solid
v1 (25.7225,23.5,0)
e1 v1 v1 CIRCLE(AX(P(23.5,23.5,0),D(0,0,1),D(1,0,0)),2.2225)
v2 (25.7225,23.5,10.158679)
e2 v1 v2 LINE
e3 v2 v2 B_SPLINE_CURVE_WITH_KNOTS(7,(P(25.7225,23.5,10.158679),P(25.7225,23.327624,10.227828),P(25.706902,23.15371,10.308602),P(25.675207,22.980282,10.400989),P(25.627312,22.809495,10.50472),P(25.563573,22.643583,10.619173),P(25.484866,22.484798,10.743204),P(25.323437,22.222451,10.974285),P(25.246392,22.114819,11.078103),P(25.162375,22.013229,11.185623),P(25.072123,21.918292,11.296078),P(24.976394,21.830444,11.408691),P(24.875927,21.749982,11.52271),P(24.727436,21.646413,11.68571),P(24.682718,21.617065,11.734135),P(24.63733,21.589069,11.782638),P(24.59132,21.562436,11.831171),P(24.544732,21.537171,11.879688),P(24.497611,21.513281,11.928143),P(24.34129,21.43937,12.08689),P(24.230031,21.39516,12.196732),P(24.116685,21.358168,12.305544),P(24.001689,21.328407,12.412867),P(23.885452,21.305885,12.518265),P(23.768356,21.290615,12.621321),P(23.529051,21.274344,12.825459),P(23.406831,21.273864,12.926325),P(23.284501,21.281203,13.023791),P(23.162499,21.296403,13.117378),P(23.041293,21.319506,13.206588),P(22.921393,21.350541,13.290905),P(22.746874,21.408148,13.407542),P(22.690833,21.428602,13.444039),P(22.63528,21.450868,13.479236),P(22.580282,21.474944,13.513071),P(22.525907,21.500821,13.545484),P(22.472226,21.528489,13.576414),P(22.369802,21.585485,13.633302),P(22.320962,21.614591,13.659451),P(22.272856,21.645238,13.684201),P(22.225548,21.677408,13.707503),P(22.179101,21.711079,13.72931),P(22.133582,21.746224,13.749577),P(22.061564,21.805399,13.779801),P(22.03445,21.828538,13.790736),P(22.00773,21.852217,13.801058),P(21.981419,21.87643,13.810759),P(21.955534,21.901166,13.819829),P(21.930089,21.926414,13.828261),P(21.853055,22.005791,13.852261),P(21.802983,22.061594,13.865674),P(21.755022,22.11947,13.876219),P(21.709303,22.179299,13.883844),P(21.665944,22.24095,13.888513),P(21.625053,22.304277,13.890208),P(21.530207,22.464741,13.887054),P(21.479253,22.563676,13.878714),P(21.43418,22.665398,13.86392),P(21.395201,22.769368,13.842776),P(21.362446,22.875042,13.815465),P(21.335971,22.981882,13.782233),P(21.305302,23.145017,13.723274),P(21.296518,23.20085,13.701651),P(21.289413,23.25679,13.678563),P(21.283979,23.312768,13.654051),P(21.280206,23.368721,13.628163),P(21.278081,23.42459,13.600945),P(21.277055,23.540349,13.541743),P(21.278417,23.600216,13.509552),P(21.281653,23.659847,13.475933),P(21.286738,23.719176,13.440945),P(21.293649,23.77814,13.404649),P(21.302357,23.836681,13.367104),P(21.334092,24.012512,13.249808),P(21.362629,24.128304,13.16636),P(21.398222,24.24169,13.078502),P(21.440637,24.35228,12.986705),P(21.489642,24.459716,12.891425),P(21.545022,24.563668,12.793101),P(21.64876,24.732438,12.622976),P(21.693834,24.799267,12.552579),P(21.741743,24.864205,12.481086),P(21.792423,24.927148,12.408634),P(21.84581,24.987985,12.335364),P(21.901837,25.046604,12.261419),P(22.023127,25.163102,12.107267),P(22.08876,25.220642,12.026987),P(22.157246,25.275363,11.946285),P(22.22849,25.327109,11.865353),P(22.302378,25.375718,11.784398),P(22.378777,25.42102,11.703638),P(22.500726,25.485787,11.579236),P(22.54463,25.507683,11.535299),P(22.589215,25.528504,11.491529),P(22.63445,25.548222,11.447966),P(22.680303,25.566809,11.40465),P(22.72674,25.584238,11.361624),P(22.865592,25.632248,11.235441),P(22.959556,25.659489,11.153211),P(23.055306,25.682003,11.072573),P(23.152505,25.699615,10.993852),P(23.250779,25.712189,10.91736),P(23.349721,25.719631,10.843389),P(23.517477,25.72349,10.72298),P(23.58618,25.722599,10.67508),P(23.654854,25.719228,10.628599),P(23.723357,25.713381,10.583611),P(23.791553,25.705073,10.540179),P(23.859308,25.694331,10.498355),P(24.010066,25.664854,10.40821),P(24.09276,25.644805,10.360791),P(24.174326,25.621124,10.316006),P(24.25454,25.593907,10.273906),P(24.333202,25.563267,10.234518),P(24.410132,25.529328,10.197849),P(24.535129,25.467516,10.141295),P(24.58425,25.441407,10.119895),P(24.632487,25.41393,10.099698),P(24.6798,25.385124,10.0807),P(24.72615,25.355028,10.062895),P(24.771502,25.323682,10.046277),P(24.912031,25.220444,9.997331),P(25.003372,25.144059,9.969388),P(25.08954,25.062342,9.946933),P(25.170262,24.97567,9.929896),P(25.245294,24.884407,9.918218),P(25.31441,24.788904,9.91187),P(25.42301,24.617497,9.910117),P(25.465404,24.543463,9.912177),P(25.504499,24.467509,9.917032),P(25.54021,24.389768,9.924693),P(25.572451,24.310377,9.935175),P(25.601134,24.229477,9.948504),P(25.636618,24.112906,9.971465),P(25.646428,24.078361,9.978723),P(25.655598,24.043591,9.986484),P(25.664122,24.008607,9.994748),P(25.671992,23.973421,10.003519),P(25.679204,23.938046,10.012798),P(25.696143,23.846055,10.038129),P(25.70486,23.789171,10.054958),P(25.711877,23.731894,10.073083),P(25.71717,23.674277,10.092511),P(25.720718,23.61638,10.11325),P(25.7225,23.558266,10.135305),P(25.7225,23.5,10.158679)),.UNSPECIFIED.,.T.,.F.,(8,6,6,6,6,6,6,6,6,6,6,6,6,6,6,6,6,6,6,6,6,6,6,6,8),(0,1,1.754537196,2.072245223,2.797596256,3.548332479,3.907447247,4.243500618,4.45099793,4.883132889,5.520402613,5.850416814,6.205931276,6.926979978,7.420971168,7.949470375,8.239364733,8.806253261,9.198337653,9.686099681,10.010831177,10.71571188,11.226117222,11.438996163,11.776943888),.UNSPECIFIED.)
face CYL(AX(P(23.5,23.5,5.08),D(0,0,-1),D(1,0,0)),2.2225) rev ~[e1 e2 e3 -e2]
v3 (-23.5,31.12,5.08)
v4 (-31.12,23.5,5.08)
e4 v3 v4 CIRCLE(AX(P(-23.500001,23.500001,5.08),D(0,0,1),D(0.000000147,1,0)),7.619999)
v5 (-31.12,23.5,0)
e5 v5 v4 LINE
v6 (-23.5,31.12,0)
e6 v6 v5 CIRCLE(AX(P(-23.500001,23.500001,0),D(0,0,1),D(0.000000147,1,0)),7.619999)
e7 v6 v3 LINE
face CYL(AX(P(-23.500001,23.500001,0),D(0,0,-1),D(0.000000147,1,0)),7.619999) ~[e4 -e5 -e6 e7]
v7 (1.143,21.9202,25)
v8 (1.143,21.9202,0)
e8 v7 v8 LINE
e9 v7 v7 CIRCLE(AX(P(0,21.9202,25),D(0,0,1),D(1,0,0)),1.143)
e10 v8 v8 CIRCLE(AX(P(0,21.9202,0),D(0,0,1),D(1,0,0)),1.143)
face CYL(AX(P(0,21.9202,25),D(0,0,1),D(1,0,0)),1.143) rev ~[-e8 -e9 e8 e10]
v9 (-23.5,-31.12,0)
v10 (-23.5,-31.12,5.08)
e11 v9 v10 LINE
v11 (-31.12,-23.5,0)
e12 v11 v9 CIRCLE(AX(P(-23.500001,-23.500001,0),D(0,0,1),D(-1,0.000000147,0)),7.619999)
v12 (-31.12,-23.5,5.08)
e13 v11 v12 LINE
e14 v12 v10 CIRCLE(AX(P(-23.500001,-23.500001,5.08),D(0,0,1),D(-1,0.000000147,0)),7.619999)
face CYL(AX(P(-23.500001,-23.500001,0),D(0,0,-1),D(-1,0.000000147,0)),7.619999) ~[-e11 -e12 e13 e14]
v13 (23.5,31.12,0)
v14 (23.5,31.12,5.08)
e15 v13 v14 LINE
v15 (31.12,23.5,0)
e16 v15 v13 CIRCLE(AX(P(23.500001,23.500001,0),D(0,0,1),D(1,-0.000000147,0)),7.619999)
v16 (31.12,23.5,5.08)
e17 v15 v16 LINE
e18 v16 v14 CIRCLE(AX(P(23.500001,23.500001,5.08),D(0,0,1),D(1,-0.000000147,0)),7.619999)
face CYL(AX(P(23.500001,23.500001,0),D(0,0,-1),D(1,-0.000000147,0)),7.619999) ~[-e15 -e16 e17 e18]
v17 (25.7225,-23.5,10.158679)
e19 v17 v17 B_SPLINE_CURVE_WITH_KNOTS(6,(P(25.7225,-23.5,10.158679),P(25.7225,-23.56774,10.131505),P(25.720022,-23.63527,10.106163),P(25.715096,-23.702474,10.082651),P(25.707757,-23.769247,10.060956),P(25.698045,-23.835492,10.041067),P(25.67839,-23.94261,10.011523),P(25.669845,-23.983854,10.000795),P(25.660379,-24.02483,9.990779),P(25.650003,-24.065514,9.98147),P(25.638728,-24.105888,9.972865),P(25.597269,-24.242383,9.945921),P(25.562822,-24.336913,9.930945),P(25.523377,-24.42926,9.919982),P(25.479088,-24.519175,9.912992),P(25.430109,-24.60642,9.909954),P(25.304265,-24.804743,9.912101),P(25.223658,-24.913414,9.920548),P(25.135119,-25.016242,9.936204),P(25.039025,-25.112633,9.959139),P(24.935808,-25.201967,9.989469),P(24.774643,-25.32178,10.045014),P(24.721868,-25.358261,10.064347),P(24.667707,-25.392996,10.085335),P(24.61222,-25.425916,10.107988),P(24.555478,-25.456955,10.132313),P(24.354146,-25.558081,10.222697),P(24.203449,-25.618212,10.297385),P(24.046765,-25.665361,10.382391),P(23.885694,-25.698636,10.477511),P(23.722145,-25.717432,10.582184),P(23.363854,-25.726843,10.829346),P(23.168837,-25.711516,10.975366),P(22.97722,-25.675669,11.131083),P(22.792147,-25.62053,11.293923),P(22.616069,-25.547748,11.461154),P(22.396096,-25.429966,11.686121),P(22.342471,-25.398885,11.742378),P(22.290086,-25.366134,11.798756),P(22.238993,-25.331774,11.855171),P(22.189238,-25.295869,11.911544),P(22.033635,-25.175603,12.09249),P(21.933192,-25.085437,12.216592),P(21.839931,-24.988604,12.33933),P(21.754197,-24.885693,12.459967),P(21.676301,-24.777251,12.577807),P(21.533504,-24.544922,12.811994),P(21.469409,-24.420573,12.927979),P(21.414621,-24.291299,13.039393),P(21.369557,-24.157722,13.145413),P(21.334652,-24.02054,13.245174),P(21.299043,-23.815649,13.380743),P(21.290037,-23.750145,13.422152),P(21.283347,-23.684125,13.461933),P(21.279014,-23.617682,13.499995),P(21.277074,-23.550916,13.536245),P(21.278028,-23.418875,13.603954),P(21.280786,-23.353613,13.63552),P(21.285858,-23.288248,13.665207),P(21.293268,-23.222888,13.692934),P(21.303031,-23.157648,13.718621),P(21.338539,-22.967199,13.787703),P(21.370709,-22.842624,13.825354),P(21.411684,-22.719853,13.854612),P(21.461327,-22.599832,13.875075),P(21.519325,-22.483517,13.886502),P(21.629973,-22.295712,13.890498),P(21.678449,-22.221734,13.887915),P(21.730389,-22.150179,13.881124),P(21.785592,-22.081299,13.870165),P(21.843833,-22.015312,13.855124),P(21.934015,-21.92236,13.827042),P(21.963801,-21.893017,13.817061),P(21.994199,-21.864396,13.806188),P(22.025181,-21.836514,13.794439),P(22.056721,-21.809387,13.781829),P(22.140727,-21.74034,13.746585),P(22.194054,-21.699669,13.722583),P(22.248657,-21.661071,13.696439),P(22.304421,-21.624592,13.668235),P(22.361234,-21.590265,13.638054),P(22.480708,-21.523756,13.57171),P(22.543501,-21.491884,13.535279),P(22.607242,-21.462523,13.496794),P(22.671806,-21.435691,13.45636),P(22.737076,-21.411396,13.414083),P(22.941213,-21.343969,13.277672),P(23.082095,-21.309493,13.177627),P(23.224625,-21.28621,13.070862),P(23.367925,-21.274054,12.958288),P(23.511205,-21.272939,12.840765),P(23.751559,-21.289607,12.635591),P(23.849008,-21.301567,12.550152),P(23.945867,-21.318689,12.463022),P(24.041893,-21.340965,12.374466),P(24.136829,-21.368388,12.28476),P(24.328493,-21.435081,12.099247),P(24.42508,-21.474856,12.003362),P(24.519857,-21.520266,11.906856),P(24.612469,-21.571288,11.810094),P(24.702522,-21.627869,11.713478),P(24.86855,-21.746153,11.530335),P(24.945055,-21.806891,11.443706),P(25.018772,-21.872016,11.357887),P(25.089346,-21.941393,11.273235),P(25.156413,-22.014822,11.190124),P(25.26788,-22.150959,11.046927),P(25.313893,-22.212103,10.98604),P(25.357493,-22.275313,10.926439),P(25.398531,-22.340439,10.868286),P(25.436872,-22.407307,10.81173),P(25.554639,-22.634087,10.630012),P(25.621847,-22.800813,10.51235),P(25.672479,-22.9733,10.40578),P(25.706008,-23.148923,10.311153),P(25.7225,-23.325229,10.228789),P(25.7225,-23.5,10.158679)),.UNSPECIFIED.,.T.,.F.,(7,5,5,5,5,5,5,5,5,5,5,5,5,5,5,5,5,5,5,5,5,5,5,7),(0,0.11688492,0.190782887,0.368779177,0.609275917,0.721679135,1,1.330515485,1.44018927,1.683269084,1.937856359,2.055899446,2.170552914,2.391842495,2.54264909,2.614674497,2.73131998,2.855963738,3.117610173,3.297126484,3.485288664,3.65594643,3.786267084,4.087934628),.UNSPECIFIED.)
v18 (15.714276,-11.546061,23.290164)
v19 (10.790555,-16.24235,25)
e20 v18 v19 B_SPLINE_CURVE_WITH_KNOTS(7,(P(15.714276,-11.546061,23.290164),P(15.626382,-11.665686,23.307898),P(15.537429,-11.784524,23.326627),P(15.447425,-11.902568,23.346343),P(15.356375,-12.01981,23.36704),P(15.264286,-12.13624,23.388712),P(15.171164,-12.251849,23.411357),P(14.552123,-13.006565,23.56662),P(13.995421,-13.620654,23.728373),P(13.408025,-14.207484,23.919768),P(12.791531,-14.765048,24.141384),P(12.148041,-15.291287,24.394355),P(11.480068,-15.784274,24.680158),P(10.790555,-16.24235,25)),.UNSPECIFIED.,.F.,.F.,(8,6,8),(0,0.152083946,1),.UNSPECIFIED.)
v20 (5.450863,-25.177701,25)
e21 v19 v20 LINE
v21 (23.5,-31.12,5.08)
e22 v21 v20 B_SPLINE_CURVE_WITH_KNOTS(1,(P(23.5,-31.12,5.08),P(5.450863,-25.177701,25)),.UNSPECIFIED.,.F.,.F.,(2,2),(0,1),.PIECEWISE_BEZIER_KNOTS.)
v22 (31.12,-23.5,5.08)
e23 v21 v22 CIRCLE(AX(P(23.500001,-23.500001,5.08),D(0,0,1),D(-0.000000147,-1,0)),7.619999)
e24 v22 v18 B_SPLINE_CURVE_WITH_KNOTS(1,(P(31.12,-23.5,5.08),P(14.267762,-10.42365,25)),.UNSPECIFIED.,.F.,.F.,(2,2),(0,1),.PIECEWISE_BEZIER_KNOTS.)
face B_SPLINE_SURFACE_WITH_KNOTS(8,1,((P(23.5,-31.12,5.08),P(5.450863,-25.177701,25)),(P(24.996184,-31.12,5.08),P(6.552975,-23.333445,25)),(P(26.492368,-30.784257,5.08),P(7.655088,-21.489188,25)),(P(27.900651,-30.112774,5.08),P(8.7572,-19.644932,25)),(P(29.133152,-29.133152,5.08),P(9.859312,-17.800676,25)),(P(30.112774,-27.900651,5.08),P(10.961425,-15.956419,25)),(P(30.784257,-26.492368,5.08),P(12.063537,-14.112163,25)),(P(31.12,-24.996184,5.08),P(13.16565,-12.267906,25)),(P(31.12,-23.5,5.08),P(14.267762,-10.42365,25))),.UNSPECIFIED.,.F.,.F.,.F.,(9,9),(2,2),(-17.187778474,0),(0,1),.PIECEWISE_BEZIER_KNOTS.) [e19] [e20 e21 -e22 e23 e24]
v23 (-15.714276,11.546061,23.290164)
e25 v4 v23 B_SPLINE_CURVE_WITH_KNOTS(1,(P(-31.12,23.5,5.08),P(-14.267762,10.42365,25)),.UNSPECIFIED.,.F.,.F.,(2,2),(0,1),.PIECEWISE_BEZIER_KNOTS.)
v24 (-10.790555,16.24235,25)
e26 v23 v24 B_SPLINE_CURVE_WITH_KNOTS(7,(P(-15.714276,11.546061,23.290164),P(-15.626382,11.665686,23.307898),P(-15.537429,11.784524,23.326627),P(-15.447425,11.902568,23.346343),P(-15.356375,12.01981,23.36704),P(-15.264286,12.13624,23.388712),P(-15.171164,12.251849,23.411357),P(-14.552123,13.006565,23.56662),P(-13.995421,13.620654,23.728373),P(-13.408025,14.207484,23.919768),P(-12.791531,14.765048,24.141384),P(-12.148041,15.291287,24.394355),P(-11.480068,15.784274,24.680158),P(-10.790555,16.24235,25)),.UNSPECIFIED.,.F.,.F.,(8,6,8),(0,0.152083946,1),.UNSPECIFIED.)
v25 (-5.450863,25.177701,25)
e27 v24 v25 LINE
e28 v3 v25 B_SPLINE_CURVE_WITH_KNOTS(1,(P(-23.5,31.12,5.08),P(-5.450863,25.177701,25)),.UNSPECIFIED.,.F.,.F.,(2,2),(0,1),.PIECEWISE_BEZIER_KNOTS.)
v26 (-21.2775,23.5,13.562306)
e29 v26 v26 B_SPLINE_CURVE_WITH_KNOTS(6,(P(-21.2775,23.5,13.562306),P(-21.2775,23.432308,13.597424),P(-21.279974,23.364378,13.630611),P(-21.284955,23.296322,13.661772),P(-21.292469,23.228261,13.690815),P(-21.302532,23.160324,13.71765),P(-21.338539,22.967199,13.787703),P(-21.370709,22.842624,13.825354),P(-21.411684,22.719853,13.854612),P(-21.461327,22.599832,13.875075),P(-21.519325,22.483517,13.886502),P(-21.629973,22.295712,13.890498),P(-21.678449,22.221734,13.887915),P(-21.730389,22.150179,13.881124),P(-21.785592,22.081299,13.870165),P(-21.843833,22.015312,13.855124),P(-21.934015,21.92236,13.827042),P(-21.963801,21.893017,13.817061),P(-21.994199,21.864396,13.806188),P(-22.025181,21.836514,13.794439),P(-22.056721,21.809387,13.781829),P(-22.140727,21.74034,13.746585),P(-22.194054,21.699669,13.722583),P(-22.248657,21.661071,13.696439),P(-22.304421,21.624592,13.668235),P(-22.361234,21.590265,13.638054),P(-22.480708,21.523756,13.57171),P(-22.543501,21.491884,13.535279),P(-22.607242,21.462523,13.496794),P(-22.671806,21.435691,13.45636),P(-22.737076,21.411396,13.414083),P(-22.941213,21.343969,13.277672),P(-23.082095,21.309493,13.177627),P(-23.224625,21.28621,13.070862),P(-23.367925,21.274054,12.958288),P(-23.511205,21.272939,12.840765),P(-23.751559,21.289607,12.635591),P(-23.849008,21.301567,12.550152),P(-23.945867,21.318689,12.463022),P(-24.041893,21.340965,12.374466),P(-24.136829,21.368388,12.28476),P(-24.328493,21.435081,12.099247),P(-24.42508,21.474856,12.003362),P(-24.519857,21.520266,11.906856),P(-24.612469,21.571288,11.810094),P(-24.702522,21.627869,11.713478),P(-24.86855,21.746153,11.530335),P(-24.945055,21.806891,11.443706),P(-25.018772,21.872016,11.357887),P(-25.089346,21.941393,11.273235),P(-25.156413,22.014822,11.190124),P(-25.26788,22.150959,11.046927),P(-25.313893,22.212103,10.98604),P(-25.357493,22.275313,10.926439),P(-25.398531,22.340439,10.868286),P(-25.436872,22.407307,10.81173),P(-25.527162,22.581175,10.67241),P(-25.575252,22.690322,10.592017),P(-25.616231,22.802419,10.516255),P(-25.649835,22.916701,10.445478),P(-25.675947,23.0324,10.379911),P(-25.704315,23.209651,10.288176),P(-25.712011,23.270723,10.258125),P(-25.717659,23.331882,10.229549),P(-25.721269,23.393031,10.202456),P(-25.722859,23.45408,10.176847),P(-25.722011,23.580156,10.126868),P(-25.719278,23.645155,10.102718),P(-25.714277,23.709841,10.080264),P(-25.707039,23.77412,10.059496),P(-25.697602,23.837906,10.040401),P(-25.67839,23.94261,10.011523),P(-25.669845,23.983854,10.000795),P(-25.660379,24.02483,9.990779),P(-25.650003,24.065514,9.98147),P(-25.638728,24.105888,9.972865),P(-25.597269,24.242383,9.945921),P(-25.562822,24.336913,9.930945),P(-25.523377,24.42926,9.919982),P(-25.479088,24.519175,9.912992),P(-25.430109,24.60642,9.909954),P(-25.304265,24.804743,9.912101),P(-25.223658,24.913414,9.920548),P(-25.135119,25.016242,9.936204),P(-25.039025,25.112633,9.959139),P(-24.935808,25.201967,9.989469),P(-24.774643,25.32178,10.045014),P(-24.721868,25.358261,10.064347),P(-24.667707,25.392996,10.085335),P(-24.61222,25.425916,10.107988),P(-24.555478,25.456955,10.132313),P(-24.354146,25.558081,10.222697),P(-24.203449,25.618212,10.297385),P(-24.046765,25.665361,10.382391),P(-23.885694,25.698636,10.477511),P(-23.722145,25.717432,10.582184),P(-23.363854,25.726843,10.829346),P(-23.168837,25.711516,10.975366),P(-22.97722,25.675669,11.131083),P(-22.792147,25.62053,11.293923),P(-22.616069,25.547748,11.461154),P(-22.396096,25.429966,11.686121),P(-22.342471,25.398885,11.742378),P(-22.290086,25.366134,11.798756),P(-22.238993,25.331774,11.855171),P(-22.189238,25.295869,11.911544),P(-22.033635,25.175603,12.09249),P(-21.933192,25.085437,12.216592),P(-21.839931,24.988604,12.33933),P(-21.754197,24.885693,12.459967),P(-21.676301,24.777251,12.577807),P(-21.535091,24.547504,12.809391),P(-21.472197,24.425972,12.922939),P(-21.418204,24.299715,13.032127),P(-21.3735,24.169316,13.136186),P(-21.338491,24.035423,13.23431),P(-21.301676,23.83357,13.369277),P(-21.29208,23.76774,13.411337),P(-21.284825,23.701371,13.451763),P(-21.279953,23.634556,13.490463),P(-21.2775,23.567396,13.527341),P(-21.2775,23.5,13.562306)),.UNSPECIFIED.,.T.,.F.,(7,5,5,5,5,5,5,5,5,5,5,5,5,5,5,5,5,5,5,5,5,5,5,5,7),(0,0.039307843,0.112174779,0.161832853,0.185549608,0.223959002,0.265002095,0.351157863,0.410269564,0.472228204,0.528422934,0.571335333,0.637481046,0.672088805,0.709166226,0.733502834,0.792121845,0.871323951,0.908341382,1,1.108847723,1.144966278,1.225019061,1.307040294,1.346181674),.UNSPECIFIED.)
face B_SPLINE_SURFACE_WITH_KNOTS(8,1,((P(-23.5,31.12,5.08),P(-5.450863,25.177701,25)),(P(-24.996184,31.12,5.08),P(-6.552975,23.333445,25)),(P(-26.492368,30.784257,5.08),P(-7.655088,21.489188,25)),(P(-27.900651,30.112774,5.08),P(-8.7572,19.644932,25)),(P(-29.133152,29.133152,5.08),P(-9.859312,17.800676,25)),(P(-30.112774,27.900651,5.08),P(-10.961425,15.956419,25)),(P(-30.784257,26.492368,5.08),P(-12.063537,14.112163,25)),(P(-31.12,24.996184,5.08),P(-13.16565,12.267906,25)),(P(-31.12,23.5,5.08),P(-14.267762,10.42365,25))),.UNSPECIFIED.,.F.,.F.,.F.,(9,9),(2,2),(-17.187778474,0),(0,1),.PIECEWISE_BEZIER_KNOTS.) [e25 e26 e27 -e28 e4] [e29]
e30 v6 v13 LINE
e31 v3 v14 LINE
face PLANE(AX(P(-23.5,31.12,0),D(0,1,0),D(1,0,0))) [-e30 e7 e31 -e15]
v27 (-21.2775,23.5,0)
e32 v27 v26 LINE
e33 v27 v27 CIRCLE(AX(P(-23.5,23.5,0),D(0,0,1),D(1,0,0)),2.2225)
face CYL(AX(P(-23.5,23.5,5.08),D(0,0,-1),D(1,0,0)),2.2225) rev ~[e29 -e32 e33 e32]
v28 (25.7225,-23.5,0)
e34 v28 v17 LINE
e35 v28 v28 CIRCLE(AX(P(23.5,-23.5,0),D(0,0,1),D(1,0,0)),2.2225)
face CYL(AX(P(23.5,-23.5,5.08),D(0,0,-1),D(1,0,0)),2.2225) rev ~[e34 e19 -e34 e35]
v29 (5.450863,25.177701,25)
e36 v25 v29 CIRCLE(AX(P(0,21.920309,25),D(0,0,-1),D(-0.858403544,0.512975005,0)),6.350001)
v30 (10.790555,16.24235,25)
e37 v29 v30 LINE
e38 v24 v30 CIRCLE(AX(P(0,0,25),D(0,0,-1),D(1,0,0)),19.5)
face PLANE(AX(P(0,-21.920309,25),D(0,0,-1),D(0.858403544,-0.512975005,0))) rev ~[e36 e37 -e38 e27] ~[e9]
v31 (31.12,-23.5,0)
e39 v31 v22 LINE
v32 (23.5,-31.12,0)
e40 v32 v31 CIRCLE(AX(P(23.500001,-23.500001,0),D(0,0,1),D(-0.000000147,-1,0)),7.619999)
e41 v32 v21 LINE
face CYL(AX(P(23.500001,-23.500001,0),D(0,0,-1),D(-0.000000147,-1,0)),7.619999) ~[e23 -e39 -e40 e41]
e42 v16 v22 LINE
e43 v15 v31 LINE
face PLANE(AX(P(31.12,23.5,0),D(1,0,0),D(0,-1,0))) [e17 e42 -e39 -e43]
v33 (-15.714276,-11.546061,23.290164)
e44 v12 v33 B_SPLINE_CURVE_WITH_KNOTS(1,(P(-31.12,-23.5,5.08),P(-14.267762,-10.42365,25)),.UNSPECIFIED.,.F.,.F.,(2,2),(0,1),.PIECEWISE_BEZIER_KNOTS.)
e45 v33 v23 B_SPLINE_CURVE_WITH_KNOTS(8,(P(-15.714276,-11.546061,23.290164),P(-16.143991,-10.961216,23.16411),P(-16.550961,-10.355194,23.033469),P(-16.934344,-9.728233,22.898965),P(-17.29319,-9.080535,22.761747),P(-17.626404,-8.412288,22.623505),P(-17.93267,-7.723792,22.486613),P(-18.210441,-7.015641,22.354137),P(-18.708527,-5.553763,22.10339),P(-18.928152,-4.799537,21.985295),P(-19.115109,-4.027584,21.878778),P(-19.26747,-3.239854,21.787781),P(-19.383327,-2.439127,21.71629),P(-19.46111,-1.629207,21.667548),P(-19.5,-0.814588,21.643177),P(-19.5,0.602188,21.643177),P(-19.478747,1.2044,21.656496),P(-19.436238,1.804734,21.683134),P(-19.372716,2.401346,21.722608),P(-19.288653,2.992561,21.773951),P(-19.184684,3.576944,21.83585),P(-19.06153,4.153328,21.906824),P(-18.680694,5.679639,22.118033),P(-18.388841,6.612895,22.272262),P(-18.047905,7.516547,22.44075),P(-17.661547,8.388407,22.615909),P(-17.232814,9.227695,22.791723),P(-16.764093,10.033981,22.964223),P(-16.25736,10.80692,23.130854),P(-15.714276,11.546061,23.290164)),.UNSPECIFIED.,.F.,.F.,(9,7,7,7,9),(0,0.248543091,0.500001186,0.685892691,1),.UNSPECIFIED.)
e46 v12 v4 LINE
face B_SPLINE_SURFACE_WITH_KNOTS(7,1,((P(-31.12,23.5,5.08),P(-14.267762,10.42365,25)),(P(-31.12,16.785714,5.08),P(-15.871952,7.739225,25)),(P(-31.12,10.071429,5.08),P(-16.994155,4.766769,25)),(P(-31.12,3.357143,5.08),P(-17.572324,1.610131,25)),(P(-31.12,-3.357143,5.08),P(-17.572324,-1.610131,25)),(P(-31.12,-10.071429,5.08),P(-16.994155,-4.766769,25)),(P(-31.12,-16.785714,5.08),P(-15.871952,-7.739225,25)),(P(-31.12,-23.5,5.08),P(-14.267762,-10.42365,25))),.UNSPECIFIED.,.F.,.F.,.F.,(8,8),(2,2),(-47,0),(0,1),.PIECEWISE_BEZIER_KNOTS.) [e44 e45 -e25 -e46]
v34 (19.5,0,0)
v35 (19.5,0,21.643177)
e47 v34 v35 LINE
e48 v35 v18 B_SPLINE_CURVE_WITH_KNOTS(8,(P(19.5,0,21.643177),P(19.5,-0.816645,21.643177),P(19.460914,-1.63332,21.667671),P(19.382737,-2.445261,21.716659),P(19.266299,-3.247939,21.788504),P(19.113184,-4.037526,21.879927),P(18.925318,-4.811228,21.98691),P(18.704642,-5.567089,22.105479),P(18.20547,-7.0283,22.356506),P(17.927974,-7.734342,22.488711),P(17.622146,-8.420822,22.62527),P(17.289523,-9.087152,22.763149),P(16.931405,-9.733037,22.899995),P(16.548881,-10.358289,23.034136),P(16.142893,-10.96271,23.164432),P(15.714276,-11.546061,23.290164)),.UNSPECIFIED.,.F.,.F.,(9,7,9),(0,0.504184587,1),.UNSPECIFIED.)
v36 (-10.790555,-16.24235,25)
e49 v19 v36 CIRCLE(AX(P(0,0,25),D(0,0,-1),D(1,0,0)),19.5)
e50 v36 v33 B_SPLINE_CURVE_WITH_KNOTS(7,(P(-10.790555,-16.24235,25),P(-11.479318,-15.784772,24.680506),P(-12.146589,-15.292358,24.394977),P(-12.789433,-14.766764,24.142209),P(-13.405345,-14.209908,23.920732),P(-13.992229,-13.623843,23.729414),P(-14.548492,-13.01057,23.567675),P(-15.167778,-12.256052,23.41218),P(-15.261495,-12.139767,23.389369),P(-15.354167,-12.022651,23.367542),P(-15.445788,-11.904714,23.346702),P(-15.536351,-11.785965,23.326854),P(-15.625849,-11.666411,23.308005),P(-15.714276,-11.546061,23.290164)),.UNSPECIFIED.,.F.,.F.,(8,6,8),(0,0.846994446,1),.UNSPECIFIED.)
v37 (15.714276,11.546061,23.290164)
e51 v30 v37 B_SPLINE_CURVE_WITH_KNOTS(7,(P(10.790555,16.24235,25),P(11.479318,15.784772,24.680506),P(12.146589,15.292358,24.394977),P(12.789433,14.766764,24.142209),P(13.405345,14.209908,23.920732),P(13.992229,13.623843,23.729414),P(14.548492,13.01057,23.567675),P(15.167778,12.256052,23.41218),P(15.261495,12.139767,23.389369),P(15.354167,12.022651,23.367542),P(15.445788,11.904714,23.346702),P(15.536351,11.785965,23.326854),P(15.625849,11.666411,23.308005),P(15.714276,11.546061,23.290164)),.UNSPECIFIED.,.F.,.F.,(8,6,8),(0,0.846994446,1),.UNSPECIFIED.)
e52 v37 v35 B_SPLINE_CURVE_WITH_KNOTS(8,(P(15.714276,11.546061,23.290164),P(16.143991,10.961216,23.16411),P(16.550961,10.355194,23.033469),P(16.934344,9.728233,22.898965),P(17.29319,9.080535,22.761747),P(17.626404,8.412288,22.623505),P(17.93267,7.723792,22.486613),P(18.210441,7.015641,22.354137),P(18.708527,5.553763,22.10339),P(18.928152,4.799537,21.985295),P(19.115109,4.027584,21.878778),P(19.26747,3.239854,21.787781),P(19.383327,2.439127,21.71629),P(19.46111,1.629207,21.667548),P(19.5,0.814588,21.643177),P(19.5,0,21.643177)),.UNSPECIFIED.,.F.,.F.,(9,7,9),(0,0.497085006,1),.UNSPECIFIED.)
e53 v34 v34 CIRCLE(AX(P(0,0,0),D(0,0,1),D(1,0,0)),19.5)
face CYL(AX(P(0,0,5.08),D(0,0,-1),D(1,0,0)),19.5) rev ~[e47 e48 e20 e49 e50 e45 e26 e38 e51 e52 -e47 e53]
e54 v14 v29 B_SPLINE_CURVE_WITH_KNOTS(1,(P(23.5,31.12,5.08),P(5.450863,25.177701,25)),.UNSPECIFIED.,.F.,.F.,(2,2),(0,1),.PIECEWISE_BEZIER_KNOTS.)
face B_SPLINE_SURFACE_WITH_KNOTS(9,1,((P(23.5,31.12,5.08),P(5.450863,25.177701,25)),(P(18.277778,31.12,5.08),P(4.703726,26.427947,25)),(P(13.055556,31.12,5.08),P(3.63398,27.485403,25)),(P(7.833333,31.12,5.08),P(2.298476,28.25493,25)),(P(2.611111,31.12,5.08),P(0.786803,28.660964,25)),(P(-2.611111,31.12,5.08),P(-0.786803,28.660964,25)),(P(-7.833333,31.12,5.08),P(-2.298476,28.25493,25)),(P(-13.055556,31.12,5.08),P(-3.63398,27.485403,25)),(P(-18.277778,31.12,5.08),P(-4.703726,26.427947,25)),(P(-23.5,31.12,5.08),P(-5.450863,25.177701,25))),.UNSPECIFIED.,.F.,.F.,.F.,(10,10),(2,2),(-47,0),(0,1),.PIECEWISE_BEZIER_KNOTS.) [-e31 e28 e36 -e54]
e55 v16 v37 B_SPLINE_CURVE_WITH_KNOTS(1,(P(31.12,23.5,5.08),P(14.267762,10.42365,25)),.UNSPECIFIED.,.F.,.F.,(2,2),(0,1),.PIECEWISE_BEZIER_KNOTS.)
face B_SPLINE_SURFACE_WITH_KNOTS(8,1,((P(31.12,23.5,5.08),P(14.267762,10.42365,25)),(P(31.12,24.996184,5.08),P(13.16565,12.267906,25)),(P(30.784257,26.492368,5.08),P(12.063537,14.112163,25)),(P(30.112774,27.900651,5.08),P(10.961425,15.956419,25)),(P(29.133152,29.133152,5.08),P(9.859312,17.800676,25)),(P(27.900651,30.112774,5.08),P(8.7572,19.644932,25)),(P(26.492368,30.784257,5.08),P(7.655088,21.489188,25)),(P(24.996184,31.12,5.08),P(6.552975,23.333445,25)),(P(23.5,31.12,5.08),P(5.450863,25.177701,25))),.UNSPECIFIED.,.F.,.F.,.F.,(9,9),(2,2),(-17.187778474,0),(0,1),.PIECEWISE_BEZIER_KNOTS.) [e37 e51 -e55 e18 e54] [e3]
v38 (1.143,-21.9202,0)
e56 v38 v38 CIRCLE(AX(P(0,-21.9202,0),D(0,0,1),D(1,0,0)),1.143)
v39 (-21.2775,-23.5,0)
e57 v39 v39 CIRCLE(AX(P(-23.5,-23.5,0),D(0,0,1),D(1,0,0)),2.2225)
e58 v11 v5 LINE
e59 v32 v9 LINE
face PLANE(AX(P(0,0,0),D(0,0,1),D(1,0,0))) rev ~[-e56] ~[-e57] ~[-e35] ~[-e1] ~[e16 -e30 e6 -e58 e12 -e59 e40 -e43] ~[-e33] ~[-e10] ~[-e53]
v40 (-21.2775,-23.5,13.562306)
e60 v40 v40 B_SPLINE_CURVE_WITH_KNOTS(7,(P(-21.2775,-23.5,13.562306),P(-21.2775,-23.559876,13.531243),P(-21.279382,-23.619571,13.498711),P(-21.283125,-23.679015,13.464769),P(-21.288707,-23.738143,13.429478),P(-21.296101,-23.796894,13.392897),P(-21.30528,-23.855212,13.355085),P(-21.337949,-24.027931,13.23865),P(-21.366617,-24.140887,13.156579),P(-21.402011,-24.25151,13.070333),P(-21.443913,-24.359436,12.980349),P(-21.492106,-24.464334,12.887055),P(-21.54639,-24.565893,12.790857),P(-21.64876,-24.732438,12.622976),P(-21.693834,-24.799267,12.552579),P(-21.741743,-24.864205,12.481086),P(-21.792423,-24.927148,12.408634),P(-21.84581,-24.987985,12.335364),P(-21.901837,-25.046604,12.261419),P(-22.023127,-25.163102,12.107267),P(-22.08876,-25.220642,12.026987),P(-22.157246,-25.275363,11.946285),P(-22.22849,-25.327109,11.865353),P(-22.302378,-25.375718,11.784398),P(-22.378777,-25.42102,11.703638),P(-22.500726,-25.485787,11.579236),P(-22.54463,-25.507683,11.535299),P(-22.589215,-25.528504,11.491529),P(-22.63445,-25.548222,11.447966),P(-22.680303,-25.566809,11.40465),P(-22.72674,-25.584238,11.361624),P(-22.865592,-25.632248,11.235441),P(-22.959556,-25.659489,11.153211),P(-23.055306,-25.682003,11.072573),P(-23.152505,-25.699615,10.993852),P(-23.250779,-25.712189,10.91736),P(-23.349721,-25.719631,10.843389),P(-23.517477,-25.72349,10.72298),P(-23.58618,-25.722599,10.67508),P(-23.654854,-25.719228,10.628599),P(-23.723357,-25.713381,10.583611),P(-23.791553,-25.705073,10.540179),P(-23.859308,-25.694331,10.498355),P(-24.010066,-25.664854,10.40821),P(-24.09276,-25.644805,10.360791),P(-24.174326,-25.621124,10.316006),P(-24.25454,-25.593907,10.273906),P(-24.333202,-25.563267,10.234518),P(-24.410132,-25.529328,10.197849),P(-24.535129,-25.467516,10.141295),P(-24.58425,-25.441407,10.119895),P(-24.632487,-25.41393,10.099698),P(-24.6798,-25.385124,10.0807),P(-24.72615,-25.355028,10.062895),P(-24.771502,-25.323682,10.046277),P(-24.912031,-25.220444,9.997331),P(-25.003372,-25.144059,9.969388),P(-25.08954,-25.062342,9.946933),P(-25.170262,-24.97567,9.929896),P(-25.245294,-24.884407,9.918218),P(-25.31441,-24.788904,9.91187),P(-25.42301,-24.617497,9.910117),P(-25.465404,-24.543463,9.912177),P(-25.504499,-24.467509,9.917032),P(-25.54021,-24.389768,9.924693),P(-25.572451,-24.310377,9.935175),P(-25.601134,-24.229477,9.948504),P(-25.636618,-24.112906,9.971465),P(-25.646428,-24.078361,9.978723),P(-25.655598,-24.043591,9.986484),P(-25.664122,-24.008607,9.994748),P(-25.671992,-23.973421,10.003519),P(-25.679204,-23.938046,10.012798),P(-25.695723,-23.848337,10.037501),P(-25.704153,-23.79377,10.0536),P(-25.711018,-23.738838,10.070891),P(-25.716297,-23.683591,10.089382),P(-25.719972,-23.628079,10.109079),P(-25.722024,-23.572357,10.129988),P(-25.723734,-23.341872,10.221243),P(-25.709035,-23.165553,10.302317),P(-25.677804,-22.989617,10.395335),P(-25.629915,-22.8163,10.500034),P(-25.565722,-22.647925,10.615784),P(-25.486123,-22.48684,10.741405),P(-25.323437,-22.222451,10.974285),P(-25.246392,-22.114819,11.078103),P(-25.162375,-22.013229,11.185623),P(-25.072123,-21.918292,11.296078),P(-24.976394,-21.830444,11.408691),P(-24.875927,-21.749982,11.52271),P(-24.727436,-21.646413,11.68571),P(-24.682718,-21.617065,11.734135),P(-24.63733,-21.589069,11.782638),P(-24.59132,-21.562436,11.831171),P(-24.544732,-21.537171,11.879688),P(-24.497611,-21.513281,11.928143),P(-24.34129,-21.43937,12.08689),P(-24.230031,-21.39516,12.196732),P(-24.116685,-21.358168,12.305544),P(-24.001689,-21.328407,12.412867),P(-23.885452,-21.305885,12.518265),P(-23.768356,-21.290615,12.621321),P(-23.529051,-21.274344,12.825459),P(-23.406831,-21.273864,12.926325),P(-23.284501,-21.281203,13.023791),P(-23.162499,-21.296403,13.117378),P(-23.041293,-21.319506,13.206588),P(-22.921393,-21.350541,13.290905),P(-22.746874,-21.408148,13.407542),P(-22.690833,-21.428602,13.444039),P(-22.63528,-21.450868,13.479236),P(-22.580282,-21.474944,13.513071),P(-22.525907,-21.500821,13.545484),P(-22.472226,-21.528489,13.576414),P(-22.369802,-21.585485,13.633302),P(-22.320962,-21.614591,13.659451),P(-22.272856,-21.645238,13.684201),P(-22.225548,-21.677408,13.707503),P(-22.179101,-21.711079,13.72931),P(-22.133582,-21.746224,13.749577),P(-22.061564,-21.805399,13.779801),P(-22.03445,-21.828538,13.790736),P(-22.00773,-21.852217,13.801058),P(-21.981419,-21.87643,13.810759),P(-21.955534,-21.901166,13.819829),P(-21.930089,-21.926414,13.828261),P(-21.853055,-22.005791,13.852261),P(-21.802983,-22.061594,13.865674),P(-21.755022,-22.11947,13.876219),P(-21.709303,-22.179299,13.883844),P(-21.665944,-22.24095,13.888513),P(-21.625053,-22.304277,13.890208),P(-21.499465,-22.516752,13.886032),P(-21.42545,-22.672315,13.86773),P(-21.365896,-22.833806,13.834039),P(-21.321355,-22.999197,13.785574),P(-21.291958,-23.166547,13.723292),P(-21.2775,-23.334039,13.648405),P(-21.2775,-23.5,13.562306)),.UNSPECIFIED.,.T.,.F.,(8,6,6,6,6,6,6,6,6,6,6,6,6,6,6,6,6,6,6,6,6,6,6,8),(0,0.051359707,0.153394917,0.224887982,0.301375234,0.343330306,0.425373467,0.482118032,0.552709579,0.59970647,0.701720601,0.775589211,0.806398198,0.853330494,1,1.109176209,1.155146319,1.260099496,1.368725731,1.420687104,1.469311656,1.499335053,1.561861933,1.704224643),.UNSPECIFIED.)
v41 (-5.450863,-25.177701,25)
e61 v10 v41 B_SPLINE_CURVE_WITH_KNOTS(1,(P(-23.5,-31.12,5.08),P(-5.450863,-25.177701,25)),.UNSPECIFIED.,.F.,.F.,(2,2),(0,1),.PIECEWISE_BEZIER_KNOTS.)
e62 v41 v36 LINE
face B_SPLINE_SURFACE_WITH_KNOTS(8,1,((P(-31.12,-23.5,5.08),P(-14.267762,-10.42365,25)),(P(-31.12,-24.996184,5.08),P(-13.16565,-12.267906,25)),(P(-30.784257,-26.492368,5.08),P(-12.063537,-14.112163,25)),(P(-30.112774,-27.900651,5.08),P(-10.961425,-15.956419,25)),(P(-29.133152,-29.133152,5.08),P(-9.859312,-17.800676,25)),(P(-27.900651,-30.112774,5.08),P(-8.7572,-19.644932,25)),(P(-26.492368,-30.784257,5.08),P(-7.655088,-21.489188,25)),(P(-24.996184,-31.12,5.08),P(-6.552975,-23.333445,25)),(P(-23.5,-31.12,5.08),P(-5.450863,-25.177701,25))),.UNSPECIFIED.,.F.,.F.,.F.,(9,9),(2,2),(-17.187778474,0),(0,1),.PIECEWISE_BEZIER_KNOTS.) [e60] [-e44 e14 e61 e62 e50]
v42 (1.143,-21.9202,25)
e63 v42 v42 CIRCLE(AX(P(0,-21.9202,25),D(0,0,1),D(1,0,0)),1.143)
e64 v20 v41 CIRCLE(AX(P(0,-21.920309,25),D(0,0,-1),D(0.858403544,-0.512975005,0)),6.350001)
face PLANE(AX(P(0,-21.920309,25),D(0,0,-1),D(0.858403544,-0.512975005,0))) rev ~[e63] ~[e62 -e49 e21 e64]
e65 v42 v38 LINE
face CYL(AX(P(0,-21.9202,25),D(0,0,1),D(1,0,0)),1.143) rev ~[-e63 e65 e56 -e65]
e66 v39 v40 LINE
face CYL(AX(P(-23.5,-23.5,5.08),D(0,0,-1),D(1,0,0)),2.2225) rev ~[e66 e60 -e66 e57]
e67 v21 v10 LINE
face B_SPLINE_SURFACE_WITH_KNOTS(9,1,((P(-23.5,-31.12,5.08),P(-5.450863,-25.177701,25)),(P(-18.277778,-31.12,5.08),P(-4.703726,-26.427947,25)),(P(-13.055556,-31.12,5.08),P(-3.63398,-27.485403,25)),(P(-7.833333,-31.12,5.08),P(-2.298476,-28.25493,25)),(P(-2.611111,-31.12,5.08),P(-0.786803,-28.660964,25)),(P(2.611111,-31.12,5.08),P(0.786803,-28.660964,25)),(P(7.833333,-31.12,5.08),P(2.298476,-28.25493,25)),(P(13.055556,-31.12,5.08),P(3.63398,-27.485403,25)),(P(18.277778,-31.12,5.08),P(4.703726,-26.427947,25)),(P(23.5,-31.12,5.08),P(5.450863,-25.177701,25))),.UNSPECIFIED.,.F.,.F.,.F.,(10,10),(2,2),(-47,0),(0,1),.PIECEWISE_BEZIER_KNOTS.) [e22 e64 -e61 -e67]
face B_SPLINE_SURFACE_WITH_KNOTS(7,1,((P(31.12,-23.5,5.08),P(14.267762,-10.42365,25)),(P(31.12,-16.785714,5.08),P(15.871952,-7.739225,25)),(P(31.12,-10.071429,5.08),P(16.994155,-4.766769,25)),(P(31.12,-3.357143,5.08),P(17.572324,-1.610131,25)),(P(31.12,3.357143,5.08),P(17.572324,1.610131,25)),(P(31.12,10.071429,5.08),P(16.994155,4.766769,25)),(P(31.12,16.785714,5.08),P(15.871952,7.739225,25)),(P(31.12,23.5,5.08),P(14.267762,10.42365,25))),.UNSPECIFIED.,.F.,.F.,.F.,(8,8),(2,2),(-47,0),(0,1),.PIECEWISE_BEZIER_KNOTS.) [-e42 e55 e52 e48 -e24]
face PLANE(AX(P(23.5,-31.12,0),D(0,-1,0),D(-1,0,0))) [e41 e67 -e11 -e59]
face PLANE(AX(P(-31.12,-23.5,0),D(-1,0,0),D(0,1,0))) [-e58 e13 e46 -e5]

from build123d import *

# Parameters (mm, degrees)
SKETCH_R        = 19.5
SKETCH_R_2      = 2.2225
PAD_DEPTH       = 5.08
SKETCH030_R     = 2.2225
SKETCH030_R_2   = 19.5
POCKET_DEPTH    = 19.921
SKETCH031_R     = 1.143
POCKET001_DEPTH = 25.001


with BuildPart() as part:
    # Sketch → Pad (new body)
    with BuildSketch(Plane.XY):
        with BuildLine():
            ThreePointArc((-31.12, -23.5), (-28.888154, -28.888154), (-23.5, -31.12))
            Line((23.5, -31.12), (-23.5, -31.12))
            ThreePointArc((23.5, -31.12), (28.888154, -28.888154), (31.12, -23.5))
            Line((31.12, 23.5), (31.12, -23.5))
            ThreePointArc((31.12, 23.5), (28.888154, 28.888154), (23.5, 31.12))
            Line((-23.5, 31.12), (23.5, 31.12))
            ThreePointArc((-23.5, 31.12), (-28.888154, 28.888154), (-31.12, 23.5))
            Line((-31.12, -23.5), (-31.12, 23.5))
        make_face()
        Circle(SKETCH_R, mode=Mode.SUBTRACT)
        with Locations((-23.5, 23.5)):
            Circle(SKETCH_R_2, mode=Mode.SUBTRACT)
        with Locations((23.5, 23.5)):
            Circle(SKETCH_R_2, mode=Mode.SUBTRACT)
        with Locations((23.5, -23.5)):
            Circle(SKETCH_R_2, mode=Mode.SUBTRACT)
        with Locations((-23.5, -23.5)):
            Circle(SKETCH_R_2, mode=Mode.SUBTRACT)
    extrude(amount=PAD_DEPTH)

    # Sketch029 (on Face15 of Pad) → AdditiveLoft section 0
    with BuildSketch(Plane.XY.offset(5.08)):
        with BuildLine():
            ThreePointArc((-31.12, -23.5), (-28.888154, -28.888154), (-23.5, -31.12))
            Line((23.5, -31.12), (-23.5, -31.12))
            ThreePointArc((23.5, -31.12), (28.888154, -28.888154), (31.12, -23.5))
            Line((31.12, 23.5), (31.12, -23.5))
            ThreePointArc((31.12, 23.5), (28.888154, 28.888154), (23.5, 31.12))
            Line((-23.5, 31.12), (23.5, 31.12))
            ThreePointArc((-23.5, 31.12), (-28.888154, 28.888154), (-31.12, 23.5))
            Line((-31.12, -23.5), (-31.12, 23.5))
        make_face()
    # Sketch028 (on DatumPlane) → AdditiveLoft section 1
    with BuildSketch(Plane(origin=(0, 0, 25), x_dir=(1, 0, 0), z_dir=(0, 0, -1))):
        with BuildLine():
            ThreePointArc((-14.267762, 10.42365), (-17.145, 0), (-14.267762, -10.42365))
            Line((-14.267762, -10.42365), (-5.450863, -25.177701))
            ThreePointArc((-5.450863, -25.177701), (0, -28.27031), (5.450863, -25.177701))
            Line((5.450863, -25.177701), (14.267762, -10.42365))
            ThreePointArc((14.267762, -10.42365), (17.145, 0), (14.267762, 10.42365))
            Line((14.267762, 10.42365), (5.450863, 25.177701))
            ThreePointArc((5.450863, 25.177701), (0, 28.27031), (-5.450863, 25.177701))
            Line((-5.450863, 25.177701), (-14.267762, 10.42365))
        make_face()
    loft()

    # Sketch030 (on Face24 of AdditiveLoft) → Pocket (cut, through all)
    with BuildSketch(Plane(origin=(0, 0, 5.08), x_dir=(1, 0, 0), z_dir=(0, 0, -1))):
        with Locations((23.5, 23.5)):
            Circle(SKETCH030_R)
        Circle(SKETCH030_R_2)
        with Locations((-23.5, 23.5)):
            Circle(SKETCH030_R)
        with Locations((-23.5, -23.5)):
            Circle(SKETCH030_R)
        with Locations((23.5, -23.5)):
            Circle(SKETCH030_R)
    extrude(amount=-POCKET_DEPTH, mode=Mode.SUBTRACT)

    # Sketch031 (on Face19 of Pocket) → Pocket001 (cut, through all)
    with BuildSketch(Plane.XY.offset(25)):
        with Locations((0, 21.9202)):
            Circle(SKETCH031_R)
        with Locations((0, -21.9202)):
            Circle(SKETCH031_R)
    extrude(amount=-POCKET001_DEPTH, mode=Mode.SUBTRACT)


solid = part.part
